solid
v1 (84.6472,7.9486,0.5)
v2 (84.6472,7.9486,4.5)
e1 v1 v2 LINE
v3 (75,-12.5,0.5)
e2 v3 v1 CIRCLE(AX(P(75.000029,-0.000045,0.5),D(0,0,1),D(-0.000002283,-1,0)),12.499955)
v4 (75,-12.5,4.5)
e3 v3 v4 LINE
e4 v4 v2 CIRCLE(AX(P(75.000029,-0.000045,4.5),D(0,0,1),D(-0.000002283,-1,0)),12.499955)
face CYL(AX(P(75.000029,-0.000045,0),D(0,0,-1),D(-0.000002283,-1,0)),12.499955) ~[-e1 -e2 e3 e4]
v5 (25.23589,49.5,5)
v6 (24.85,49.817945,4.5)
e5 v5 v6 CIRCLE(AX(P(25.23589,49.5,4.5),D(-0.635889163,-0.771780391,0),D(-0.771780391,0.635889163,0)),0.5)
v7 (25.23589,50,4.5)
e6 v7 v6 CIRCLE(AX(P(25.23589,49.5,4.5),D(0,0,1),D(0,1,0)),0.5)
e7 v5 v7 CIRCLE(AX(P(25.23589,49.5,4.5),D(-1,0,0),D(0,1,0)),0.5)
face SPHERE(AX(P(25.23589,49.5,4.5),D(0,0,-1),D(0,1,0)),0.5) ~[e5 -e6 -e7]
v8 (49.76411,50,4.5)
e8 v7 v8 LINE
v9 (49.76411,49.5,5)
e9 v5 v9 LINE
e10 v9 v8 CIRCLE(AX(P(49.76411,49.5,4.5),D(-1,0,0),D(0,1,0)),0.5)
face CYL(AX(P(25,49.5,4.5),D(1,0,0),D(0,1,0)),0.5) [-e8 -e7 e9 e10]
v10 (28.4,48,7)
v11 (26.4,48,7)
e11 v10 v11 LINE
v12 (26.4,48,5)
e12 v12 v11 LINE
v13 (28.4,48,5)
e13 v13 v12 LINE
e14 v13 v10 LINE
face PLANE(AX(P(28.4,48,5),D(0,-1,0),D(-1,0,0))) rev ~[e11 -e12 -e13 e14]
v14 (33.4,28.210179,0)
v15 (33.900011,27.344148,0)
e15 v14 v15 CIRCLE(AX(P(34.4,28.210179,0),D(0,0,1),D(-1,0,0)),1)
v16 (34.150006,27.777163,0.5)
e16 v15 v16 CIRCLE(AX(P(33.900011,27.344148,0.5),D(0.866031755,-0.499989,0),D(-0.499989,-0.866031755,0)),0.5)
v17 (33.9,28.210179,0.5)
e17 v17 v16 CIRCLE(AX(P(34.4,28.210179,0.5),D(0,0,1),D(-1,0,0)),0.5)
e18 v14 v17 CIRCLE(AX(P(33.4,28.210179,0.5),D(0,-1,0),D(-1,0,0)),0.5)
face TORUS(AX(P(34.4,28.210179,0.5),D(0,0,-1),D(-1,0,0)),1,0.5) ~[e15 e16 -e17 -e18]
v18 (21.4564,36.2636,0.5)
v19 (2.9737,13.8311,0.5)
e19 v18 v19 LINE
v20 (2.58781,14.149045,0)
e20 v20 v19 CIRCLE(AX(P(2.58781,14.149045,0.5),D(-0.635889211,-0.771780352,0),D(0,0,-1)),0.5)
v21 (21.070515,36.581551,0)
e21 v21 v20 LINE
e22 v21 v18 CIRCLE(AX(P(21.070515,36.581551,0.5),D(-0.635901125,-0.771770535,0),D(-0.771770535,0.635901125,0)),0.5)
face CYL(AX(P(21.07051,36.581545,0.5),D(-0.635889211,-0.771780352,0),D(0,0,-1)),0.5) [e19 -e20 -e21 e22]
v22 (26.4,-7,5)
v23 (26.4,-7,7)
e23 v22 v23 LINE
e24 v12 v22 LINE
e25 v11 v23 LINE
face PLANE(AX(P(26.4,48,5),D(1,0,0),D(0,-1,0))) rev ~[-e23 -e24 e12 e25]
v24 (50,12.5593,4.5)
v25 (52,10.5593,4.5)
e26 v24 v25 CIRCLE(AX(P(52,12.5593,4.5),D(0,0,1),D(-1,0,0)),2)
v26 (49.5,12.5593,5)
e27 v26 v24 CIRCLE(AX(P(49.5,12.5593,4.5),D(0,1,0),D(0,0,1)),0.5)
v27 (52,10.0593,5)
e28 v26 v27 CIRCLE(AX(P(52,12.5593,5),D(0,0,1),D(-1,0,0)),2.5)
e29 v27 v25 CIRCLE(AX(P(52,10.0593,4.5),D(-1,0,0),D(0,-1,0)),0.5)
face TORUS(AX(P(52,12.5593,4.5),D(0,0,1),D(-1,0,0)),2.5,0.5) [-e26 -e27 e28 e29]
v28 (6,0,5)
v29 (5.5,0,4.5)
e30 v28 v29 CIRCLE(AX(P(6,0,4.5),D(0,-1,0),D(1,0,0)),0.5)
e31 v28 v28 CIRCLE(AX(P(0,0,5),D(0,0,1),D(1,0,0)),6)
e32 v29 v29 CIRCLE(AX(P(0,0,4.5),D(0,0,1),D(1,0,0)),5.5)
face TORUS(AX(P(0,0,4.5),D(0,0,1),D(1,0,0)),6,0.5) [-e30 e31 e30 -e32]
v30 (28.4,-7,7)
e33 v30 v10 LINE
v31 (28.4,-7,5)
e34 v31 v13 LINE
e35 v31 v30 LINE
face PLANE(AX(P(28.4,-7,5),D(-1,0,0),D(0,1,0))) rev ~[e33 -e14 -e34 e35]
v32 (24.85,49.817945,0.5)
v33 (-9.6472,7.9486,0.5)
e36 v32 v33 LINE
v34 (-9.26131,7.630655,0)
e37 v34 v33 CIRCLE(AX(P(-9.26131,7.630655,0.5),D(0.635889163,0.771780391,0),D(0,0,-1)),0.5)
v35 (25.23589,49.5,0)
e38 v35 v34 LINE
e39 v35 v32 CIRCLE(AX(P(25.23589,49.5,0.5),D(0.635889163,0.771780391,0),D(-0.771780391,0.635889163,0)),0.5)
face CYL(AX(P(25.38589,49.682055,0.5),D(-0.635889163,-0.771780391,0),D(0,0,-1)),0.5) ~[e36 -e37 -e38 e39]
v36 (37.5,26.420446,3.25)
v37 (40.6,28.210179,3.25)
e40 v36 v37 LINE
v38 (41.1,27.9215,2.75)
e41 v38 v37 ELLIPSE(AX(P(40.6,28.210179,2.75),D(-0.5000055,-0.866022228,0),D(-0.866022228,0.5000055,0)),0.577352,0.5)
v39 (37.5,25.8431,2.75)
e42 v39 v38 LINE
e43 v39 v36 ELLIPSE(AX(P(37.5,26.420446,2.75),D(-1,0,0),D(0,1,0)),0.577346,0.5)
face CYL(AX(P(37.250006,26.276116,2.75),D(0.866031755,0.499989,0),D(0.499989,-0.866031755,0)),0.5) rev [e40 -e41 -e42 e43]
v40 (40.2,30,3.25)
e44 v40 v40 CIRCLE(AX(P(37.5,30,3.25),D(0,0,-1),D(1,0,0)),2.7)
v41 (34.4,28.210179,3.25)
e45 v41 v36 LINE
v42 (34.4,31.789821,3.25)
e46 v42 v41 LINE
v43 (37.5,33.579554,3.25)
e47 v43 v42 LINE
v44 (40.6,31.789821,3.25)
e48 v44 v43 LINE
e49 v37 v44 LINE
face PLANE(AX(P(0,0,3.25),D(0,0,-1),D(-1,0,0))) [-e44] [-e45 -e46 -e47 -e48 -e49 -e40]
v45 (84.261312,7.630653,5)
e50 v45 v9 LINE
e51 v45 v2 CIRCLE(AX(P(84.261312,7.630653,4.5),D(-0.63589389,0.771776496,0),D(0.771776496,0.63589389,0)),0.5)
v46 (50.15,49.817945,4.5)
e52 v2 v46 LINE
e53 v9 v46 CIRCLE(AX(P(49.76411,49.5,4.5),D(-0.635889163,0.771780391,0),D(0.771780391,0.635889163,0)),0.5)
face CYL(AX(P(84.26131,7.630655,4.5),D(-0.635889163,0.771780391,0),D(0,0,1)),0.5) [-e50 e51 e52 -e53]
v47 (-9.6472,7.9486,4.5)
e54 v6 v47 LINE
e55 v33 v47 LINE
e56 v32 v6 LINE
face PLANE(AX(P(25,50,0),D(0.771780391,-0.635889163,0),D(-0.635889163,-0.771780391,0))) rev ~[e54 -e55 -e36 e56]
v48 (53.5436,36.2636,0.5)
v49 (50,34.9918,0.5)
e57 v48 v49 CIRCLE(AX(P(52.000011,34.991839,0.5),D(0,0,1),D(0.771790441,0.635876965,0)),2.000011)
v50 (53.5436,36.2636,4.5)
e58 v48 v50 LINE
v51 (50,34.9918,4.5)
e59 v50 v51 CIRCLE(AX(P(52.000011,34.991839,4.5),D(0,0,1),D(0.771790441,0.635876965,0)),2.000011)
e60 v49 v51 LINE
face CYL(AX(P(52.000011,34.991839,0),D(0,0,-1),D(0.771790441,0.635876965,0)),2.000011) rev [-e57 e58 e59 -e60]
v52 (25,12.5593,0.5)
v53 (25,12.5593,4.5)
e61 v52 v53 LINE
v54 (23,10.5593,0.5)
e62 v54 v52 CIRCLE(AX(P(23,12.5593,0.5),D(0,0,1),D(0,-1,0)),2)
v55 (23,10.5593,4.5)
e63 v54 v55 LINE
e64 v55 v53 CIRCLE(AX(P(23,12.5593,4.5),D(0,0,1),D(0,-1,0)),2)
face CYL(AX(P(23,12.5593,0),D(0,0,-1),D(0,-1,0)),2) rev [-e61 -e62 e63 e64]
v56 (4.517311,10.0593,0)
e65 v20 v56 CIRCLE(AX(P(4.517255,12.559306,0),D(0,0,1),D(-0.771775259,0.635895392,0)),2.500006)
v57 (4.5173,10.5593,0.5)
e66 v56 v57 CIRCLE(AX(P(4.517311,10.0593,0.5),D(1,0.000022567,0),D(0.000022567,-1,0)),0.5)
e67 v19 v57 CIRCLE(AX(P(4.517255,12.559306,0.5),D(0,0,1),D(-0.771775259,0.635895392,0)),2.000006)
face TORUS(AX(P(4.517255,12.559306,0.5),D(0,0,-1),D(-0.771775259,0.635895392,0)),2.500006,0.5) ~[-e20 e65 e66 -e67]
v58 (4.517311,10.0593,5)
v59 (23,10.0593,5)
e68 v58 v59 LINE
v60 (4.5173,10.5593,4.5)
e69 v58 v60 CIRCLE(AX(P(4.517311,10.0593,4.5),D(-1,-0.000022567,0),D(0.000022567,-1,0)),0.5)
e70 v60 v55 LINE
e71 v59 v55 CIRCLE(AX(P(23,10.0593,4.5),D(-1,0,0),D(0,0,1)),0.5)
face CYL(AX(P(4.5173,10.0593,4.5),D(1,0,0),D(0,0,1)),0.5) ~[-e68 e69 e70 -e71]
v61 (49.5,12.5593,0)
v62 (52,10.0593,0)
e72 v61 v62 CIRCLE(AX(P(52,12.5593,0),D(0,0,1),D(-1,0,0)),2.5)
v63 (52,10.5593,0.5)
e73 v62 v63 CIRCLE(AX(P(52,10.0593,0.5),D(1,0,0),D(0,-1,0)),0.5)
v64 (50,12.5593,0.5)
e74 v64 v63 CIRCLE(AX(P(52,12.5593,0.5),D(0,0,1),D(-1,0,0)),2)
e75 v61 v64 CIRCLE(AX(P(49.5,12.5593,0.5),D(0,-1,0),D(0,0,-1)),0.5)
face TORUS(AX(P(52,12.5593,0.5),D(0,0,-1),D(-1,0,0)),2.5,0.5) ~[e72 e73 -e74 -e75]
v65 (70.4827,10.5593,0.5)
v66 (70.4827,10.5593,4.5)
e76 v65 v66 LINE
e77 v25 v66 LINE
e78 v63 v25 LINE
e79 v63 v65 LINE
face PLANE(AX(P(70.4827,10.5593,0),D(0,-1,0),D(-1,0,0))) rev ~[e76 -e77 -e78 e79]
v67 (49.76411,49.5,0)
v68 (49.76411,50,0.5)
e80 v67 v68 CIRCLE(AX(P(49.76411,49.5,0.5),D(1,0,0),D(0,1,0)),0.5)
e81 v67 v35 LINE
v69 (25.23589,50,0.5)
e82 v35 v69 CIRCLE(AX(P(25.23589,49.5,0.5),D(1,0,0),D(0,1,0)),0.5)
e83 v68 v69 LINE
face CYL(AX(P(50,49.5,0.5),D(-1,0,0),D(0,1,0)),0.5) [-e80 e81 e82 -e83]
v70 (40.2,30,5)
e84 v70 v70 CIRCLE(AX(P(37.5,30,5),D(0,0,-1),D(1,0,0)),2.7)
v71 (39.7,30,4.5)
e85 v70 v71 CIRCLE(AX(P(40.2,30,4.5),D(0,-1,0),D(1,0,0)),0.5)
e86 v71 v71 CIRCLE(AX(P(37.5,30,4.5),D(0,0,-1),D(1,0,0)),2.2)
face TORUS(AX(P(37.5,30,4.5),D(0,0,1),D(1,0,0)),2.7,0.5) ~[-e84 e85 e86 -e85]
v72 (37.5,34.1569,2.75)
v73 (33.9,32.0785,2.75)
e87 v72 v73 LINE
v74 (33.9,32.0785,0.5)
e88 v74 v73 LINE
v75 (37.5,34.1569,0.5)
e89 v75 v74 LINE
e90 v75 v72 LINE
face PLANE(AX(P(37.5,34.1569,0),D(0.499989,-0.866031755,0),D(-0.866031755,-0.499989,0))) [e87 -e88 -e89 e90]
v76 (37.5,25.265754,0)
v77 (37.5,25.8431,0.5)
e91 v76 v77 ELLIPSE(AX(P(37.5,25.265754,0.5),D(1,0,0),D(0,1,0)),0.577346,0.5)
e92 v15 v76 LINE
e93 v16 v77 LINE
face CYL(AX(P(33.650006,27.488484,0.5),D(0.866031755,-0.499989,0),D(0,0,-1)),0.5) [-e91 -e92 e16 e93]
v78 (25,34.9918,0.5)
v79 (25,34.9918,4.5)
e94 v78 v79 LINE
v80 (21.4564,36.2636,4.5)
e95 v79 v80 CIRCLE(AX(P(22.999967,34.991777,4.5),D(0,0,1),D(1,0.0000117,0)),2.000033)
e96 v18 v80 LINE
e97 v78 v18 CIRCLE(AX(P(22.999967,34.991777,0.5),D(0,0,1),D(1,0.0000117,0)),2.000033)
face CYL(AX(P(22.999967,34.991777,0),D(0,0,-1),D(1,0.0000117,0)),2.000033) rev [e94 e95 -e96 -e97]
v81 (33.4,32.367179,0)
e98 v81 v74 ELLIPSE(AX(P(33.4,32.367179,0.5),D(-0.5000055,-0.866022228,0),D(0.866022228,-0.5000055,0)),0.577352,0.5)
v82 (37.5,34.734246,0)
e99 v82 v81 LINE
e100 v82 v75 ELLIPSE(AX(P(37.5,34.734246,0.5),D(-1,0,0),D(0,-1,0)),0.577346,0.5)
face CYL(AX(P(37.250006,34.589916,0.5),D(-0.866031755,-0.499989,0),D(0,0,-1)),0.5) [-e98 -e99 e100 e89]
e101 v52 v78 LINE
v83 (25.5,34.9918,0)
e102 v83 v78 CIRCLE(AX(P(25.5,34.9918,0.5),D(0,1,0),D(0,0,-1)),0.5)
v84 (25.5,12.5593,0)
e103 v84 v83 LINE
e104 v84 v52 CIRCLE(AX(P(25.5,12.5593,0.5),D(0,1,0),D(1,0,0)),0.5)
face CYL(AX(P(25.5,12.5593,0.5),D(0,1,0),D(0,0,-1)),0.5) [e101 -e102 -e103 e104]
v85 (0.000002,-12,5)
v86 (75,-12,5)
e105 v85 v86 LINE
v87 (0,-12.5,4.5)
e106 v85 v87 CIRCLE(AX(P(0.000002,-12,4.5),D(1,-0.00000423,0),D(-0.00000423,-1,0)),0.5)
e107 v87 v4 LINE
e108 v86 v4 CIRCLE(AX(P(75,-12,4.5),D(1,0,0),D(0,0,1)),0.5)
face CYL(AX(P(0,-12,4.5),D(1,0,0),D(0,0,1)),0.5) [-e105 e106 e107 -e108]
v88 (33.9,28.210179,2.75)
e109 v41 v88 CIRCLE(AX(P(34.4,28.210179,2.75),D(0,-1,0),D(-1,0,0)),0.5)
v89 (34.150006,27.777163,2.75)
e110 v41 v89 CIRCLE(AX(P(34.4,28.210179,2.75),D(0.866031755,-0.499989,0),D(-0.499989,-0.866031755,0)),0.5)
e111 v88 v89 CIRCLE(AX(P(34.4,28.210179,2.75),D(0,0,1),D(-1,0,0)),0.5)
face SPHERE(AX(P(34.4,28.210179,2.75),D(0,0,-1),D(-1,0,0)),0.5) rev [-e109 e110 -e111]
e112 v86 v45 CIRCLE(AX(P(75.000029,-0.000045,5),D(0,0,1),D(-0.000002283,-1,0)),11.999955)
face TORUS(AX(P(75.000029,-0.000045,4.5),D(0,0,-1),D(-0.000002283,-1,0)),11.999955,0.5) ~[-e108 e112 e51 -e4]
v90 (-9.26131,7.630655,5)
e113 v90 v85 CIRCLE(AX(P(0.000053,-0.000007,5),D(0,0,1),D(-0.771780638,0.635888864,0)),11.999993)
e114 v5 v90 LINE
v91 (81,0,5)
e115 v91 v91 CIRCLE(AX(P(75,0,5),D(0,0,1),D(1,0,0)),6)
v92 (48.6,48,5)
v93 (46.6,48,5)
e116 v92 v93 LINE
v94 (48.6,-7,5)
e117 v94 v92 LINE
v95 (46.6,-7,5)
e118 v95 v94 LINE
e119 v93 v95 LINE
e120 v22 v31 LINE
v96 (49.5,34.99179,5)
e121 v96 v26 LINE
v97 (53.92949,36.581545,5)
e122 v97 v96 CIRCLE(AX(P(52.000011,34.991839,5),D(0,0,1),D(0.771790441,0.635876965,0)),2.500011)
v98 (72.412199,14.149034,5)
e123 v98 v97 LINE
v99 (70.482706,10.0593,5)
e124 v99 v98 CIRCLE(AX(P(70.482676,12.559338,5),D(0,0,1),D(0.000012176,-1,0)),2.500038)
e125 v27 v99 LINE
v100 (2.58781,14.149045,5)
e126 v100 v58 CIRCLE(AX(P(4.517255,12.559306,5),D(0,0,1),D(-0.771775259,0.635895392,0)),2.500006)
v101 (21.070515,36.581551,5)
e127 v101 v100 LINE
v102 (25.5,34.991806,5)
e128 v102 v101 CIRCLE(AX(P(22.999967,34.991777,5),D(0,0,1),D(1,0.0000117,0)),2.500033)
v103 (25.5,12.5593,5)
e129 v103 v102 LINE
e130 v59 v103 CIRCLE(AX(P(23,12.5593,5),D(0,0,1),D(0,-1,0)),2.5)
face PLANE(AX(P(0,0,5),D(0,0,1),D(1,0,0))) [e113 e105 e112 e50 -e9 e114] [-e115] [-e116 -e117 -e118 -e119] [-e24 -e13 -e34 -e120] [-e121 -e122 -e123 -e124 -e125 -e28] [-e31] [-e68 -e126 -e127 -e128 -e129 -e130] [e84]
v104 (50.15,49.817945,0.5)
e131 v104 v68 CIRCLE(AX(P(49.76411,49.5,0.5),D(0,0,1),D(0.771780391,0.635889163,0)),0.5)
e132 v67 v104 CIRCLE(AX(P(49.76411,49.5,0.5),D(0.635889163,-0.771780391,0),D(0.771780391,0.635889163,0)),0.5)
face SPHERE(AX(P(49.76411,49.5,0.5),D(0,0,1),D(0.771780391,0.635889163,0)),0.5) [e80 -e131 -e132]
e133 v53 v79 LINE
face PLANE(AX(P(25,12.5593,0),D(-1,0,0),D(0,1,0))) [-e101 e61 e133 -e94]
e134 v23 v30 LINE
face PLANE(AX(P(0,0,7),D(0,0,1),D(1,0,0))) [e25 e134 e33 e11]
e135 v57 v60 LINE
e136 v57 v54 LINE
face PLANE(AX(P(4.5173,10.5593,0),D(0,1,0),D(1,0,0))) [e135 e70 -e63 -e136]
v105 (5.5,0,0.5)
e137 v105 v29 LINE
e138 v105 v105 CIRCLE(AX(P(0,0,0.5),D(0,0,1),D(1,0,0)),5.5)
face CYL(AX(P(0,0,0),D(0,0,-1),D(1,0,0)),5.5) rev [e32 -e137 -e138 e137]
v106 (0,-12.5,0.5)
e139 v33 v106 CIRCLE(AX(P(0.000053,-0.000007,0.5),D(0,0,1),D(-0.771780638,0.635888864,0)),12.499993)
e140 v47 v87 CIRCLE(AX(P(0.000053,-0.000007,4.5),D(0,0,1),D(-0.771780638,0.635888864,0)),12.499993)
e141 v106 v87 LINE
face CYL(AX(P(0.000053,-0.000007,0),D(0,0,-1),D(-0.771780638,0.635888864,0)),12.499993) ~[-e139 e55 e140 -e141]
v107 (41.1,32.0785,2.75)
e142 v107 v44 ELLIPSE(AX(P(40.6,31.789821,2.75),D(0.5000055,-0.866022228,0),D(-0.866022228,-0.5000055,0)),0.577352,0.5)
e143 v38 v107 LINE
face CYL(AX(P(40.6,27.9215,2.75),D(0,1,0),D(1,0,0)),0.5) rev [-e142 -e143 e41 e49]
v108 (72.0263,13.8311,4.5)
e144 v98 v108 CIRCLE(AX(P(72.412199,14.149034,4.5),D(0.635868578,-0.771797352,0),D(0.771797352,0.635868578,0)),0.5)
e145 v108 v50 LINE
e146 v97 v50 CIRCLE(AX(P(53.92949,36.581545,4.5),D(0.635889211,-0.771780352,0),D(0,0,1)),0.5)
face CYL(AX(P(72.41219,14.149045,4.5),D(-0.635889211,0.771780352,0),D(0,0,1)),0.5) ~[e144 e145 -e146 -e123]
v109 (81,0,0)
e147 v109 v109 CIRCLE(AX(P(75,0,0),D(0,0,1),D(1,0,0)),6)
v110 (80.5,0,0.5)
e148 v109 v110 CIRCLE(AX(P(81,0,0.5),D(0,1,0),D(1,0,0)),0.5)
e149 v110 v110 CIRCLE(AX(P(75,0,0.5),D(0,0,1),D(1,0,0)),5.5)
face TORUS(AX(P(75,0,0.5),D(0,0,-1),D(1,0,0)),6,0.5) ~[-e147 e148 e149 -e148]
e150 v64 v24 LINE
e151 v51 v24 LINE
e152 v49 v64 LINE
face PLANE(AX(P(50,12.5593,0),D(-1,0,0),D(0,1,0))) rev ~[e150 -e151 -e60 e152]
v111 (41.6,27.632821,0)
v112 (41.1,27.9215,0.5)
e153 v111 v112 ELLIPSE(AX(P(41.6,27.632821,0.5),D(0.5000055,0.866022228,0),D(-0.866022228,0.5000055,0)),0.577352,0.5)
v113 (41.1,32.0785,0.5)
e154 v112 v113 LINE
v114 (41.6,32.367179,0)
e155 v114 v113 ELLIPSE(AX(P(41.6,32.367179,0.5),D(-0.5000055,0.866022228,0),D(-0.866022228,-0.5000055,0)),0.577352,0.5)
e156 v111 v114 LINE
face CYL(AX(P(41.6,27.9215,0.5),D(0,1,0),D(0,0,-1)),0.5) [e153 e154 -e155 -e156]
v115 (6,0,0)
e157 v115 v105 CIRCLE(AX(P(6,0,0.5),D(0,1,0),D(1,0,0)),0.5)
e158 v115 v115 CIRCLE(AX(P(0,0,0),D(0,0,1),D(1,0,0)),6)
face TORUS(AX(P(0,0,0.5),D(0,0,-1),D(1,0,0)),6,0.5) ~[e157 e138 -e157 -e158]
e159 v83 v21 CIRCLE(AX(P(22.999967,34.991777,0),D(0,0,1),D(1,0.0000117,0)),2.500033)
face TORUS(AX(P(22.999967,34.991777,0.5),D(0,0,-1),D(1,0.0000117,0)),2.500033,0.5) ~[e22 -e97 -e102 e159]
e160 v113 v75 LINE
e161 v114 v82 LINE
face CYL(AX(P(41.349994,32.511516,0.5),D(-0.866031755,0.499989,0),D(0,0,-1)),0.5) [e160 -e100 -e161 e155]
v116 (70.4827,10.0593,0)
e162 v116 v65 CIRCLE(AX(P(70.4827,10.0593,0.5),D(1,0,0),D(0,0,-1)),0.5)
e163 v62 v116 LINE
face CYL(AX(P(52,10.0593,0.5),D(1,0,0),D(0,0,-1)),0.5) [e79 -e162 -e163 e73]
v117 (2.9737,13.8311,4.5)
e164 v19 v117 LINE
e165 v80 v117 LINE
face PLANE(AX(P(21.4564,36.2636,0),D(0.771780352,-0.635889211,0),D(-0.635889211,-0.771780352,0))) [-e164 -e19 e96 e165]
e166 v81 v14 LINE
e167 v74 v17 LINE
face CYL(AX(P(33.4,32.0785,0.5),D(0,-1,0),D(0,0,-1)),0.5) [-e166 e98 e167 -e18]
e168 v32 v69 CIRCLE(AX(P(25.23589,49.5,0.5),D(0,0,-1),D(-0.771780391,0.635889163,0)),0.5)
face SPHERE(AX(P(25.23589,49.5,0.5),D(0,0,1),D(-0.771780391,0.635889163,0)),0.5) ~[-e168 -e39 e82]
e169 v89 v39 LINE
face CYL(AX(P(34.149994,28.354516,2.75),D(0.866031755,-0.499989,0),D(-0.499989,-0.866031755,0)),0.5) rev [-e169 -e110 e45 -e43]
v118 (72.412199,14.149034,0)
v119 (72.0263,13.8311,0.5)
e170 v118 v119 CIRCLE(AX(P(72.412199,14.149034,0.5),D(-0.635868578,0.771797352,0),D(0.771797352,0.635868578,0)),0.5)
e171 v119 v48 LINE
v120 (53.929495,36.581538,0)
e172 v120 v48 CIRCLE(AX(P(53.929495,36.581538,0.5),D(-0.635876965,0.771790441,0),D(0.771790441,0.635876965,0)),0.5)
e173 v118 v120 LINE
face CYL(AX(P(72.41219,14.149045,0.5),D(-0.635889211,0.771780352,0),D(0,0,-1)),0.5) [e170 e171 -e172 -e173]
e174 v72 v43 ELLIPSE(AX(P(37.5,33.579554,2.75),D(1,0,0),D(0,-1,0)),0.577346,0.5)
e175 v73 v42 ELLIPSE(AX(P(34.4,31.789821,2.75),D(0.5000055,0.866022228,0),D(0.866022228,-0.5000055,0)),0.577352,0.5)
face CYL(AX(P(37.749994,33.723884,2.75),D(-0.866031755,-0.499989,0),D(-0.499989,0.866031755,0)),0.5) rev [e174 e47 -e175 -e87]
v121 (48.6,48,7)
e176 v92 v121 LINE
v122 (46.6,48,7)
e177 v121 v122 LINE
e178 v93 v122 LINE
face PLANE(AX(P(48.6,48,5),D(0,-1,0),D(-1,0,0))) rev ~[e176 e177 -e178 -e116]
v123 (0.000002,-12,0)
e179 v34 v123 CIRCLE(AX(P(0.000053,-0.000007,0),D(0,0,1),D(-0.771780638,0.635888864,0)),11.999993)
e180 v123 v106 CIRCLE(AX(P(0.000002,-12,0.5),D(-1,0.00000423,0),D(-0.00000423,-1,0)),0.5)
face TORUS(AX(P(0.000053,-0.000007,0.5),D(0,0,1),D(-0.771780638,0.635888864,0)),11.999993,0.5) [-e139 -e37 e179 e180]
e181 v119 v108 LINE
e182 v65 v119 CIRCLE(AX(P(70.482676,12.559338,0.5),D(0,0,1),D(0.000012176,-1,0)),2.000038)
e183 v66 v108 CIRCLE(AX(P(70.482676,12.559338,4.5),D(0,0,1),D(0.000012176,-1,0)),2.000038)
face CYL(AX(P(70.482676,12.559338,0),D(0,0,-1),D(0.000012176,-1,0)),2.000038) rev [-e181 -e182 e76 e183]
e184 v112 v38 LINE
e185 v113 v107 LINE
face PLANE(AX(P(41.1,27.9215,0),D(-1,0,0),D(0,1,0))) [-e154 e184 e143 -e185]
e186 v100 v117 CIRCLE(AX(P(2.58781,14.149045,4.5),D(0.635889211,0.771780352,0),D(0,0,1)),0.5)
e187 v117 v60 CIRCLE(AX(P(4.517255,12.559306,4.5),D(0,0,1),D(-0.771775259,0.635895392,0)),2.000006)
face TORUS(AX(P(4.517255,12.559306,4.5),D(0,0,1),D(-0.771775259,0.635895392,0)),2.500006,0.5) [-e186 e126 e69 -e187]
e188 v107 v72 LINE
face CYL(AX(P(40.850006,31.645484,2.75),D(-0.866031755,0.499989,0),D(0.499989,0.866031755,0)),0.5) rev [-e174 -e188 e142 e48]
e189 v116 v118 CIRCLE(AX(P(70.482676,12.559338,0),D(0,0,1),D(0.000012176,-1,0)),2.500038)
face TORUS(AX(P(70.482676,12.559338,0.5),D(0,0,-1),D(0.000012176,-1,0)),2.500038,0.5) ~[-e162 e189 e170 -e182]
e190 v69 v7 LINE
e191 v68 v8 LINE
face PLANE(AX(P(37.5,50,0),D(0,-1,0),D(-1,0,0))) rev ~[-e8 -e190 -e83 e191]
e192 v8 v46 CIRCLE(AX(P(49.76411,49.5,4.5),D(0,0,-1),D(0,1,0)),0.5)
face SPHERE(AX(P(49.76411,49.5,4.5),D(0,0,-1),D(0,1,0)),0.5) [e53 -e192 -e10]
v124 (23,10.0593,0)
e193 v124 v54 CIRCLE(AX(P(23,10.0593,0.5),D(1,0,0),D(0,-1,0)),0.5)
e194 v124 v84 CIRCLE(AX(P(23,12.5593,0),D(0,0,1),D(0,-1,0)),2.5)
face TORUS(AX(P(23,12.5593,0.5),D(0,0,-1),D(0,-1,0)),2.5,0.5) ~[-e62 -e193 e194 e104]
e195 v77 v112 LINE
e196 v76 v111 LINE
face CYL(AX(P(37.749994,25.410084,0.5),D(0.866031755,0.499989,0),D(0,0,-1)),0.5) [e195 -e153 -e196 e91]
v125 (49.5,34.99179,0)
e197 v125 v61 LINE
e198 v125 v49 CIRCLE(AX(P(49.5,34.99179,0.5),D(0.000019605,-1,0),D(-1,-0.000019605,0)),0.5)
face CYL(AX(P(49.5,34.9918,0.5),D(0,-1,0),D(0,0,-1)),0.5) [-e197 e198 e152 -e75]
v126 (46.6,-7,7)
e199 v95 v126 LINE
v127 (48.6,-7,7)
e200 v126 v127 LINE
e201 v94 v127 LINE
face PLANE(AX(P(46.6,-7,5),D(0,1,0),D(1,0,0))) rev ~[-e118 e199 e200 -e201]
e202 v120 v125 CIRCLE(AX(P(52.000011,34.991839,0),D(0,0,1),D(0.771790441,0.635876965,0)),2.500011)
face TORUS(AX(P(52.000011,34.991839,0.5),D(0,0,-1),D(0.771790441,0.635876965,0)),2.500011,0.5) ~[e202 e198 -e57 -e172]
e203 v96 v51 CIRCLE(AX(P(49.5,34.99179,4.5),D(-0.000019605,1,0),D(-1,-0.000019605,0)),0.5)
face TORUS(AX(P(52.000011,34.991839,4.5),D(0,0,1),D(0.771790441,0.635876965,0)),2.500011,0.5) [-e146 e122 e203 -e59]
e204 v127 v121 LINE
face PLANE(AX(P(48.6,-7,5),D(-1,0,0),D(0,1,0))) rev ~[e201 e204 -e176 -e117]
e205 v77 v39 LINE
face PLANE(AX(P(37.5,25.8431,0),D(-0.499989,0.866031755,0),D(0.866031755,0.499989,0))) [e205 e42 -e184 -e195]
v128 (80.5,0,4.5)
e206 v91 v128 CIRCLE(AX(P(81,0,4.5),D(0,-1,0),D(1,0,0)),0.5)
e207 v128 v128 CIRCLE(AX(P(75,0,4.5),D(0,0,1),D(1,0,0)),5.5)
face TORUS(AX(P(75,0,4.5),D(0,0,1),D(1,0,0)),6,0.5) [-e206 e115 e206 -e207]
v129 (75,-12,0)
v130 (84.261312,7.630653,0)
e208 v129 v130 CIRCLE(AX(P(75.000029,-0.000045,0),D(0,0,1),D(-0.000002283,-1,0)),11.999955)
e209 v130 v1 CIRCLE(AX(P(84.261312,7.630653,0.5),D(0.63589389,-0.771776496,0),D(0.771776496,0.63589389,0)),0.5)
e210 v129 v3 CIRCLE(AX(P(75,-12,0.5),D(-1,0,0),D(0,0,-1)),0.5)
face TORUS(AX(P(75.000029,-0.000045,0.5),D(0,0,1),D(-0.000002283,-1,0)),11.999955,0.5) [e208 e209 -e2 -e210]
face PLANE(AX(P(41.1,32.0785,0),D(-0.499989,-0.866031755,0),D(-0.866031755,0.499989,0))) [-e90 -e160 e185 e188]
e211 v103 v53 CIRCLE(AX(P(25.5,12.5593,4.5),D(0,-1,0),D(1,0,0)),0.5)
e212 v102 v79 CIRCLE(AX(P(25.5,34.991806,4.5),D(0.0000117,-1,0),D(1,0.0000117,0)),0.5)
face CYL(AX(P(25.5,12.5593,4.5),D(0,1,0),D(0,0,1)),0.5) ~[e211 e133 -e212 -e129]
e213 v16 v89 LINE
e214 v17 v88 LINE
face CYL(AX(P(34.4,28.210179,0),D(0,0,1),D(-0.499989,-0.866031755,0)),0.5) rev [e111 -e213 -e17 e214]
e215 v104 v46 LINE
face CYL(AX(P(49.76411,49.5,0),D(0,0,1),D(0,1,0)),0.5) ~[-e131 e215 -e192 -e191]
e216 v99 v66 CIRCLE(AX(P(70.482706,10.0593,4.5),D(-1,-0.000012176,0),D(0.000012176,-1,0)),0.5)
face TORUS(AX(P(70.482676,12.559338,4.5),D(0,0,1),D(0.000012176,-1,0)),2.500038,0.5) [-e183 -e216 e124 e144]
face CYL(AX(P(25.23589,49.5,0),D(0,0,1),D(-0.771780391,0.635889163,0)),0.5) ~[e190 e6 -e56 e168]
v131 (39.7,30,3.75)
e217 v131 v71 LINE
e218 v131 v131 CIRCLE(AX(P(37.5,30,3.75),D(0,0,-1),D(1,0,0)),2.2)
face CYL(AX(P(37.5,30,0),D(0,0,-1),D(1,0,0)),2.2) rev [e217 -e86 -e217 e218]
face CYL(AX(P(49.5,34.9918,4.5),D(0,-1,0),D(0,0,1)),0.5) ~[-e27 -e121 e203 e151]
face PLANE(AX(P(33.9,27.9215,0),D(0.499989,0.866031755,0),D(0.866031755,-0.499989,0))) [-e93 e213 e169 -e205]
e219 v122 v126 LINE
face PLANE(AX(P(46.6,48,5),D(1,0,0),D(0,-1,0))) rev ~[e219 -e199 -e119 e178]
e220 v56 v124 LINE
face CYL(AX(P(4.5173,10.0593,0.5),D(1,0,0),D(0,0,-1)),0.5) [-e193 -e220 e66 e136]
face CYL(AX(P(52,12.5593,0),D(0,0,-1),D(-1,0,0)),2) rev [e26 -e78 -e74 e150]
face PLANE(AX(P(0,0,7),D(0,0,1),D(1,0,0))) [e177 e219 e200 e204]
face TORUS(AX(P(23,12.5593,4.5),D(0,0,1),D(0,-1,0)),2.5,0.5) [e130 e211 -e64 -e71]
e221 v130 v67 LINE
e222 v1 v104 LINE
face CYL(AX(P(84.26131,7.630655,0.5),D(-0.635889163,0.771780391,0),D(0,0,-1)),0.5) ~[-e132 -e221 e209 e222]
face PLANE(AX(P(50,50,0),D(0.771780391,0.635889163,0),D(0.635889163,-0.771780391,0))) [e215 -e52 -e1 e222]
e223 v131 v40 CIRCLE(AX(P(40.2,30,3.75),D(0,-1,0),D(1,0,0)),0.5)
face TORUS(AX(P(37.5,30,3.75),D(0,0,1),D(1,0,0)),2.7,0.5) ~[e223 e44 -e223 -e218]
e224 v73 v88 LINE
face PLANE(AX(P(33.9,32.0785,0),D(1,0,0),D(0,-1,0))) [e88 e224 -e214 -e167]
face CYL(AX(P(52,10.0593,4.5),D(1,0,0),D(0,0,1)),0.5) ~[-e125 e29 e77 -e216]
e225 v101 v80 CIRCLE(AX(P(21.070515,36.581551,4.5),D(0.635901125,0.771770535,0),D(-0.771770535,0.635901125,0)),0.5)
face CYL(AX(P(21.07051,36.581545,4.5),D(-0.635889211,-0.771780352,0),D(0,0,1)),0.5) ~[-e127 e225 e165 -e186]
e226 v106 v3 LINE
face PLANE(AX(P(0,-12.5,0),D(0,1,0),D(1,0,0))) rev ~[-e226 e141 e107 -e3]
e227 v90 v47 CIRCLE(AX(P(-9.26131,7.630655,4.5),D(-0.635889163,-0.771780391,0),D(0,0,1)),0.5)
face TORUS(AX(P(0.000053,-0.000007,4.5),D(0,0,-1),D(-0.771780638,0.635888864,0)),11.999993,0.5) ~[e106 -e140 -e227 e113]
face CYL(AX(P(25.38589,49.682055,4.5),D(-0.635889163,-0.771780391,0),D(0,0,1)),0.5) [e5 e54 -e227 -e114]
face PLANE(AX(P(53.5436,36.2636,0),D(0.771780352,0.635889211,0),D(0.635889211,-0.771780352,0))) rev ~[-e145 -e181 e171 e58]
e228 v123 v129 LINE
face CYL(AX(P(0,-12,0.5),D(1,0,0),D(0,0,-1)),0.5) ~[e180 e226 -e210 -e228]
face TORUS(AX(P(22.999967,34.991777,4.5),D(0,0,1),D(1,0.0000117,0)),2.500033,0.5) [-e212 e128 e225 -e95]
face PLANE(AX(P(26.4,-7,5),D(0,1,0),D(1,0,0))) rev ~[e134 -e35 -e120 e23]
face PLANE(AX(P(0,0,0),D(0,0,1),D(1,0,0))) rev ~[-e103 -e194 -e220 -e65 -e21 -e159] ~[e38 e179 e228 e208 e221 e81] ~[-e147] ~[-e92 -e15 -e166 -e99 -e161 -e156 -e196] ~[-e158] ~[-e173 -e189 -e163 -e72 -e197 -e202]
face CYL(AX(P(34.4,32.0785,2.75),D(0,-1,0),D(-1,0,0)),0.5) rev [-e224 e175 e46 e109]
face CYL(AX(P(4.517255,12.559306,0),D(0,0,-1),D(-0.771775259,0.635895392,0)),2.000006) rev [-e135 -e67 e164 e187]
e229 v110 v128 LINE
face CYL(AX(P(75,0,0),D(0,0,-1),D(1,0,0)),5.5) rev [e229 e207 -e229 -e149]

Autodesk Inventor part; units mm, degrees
ref_plane "YZ Plane" through (0, 0, 0) normal (1, 0, 0) x (0, 1, 0)
ref_plane "XZ Plane" through (0, 0, 0) normal (0, 1, 0) x (-1, 0, 0)
ref_plane "XY Plane" through (0, 0, 0) normal (0, 0, 1) x (1, 0, 0)
sketch "Sketch2" plane through (0, 0, 0) normal (0, 0, 1) x (1, 0, 0)
  circle A0 centre (0, 0) radius 5.5
  circle A1 centre (75, 0) radius 5.5
  arc A2 (-9.6472, 7.9486) -> (0, -12.5) centre (0, 0) ccw
  arc A3 (75, -12.5) -> (84.6472, 7.9486) centre (75, 0) ccw
  line L0 (0, -12.5) -> (75, -12.5)
  line L1 (50, 50) -> (25, 50)
  line L2 (25, 50) -> (-9.6472, 7.9486)
  line L3 (50, 50) -> (84.6472, 7.9486)
  line L4 (70.4827, 10.5593) -> (52, 10.5593)
  line L5 (50, 12.5593) -> (50, 34.9918)
  line L6 (53.5436, 36.2636) -> (72.0263, 13.8311)
  line L7 (37.5, 50) -> (37.5, -12.5)
  arc A4 (53.5436, 36.2636) -> (50, 34.9918) centre (52, 34.9918) ccw
  arc A5 (70.4827, 10.5593) -> (72.0263, 13.8311) centre (70.4827, 12.5593) ccw
  arc A6 (50, 12.5593) -> (52, 10.5593) centre (52, 12.5593) ccw
  line L8 (4.5173, 10.5593) -> (23, 10.5593)
  line L9 (25, 12.5593) -> (25, 34.9918)
  line L10 (21.4564, 36.2636) -> (2.9737, 13.8311)
  arc A7 (25, 34.9918) -> (21.4564, 36.2636) centre (23, 34.9918) ccw
  arc A8 (2.9737, 13.8311) -> (4.5173, 10.5593) centre (4.5173, 12.5593) ccw
  arc A9 (23, 10.5593) -> (25, 12.5593) centre (23, 12.5593) ccw
  circle A10 centre (37.5, 30) radius 2.2
  point P0 (50, 40.5644)
  point P1 (74.722, 10.5593)
  point P2 (50, 10.5593)
  dimension "d1" = 11
  dimension "d2" = 11
  dimension "d3" = 25
  dimension "d4" = 25
  dimension "d6" = 75
  dimension "d8" = 50
  dimension "d10" = 25
  dimension "d12" = 25
  dimension "d13" = 25
  dimension "d15" = 6
  dimension "d18" = 2
  dimension "d19" = 4.4
  dimension "d32" = 20
extrude "Extrusion1" add sketch "Sketch2" along normal blind 5 contours L2 L1 L7 A10 L0 A2 | L7 A10 L1 L3 A3 L0
sketch "Sketch3" plane through (0, 0, 0) normal (0, 0, -1) x (-1, 0, 0)
  circle A0 centre (-37.5, 30) radius 2.2 projected
  line L0 (-33.9, 27.9215) -> (-37.5, 25.8431)
  line L1 (-37.5, 25.8431) -> (-41.1, 27.9215)
  line L2 (-41.1, 27.9215) -> (-41.1, 32.0785)
  line L3 (-41.1, 32.0785) -> (-37.5, 34.1569)
  line L4 (-37.5, 34.1569) -> (-33.9, 32.0785)
  line L5 (-33.9, 32.0785) -> (-33.9, 27.9215)
  point P0 (0, 0)
  dimension "d20" = 7.2
extrude "Extrusion2" cut sketch "Sketch3" against normal blind 3.25
fillet "Fillet1" radius 0.5 57 edges at (33.9, 30, 0) (35.7, 33.1177, 0) (39.3, 33.1177, 0) (41.1, 30, 0) (39.3, 26.8823, 0) (35.7, 26.8823, 0) (24.4142, 11.1451, 0) (13.7586, 10.5593, 0) (2.7084, 11.7059, 0) (12.2151, 25.0473, 0) (23.6756, 36.8742, 0) (25, 23.7755, 0) (51.3244, 36.8742, 0) (62.7849, 25.0473, 0) (72.2916, 11.7059, 0) (61.2414, 10.5593, 0) (50.5858, 11.1451, 0) (50, 23.7755, 0) (86.305, -5.3335, 0) (37.5, -12.5, 0) (-11.305, -5.3335, 0) (7.6764, 28.9743, 0) (67.3236, 28.9743, 0) (37.5, 50, 0) (37.5, 50, 5) (86.305, -5.3335, 5) (37.5, -12.5, 5) (-11.305, -5.3335, 5) (7.6764, 28.9743, 5) (67.3236, 28.9743, 5) (23.6756, 36.8742, 5) (25, 23.7755, 5) (24.4142, 11.1451, 5) (13.7586, 10.5593, 5) (2.7084, 11.7059, 5) (12.2151, 25.0473, 5) (72.2916, 11.7059, 5) (61.2414, 10.5593, 5) (50.5858, 11.1451, 5) (50, 23.7755, 5) (51.3244, 36.8742, 5) (62.7849, 25.0473, 5) (-5.5, 0, 0) (-5.5, 0, 5) (69.5, 0, 0) (69.5, 0, 5) (35.3, 30, 3.25) (35.3, 30, 5) (33.9, 30, 3.25) (35.7, 33.1177, 3.25) (39.3, 33.1177, 3.25) (41.1, 30, 3.25) (39.3, 26.8823, 3.25) (35.7, 26.8823, 3.25) (33.9, 27.9215, 1.625) (25, 50, 2.5) (50, 50, 2.5)
sketch "Sketch4" plane through (0, 0, 5) normal (0, 0, 1) x (1, 0, 0)
  line L0 (26.4, -7) -> (28.4, -7)
  line L1 (28.4, -7) -> (28.4, 48)
  line L2 (28.4, 48) -> (26.4, 48)
  line L3 (26.4, 48) -> (26.4, -7)
  line L4 (46.6, -7) -> (48.6, -7)
  line L5 (48.6, -7) -> (48.6, 48)
  line L6 (48.6, 48) -> (46.6, 48)
  line L7 (46.6, 48) -> (46.6, -7)
  circle A0 centre (37.5, 30) radius 2.7 projected
  line L8 (49.7641, 50) -> (25.2359, 50) projected
  point P0 (0, 0)
  dimension "d24" = 9.1
  dimension "d25" = 18.2
  dimension "d26" = 2
  dimension "d27" = 2
  dimension "d30" = 55
  dimension "d31" = 2
extrude "Extrusion3" add sketch "Sketch4" along normal blind 2 contours L3 L2 L1 L0 | L7 L6 L5 L4
equation "\"d12\" = -0.5 * d10 + 0.5 * d6"
equation "\"d13\" = d12"
equation "\"d24\" = 0.5 * d25"
equation "\"d27\" = d26"
properties part number "BandeV2Base" material "PET Plastic"
